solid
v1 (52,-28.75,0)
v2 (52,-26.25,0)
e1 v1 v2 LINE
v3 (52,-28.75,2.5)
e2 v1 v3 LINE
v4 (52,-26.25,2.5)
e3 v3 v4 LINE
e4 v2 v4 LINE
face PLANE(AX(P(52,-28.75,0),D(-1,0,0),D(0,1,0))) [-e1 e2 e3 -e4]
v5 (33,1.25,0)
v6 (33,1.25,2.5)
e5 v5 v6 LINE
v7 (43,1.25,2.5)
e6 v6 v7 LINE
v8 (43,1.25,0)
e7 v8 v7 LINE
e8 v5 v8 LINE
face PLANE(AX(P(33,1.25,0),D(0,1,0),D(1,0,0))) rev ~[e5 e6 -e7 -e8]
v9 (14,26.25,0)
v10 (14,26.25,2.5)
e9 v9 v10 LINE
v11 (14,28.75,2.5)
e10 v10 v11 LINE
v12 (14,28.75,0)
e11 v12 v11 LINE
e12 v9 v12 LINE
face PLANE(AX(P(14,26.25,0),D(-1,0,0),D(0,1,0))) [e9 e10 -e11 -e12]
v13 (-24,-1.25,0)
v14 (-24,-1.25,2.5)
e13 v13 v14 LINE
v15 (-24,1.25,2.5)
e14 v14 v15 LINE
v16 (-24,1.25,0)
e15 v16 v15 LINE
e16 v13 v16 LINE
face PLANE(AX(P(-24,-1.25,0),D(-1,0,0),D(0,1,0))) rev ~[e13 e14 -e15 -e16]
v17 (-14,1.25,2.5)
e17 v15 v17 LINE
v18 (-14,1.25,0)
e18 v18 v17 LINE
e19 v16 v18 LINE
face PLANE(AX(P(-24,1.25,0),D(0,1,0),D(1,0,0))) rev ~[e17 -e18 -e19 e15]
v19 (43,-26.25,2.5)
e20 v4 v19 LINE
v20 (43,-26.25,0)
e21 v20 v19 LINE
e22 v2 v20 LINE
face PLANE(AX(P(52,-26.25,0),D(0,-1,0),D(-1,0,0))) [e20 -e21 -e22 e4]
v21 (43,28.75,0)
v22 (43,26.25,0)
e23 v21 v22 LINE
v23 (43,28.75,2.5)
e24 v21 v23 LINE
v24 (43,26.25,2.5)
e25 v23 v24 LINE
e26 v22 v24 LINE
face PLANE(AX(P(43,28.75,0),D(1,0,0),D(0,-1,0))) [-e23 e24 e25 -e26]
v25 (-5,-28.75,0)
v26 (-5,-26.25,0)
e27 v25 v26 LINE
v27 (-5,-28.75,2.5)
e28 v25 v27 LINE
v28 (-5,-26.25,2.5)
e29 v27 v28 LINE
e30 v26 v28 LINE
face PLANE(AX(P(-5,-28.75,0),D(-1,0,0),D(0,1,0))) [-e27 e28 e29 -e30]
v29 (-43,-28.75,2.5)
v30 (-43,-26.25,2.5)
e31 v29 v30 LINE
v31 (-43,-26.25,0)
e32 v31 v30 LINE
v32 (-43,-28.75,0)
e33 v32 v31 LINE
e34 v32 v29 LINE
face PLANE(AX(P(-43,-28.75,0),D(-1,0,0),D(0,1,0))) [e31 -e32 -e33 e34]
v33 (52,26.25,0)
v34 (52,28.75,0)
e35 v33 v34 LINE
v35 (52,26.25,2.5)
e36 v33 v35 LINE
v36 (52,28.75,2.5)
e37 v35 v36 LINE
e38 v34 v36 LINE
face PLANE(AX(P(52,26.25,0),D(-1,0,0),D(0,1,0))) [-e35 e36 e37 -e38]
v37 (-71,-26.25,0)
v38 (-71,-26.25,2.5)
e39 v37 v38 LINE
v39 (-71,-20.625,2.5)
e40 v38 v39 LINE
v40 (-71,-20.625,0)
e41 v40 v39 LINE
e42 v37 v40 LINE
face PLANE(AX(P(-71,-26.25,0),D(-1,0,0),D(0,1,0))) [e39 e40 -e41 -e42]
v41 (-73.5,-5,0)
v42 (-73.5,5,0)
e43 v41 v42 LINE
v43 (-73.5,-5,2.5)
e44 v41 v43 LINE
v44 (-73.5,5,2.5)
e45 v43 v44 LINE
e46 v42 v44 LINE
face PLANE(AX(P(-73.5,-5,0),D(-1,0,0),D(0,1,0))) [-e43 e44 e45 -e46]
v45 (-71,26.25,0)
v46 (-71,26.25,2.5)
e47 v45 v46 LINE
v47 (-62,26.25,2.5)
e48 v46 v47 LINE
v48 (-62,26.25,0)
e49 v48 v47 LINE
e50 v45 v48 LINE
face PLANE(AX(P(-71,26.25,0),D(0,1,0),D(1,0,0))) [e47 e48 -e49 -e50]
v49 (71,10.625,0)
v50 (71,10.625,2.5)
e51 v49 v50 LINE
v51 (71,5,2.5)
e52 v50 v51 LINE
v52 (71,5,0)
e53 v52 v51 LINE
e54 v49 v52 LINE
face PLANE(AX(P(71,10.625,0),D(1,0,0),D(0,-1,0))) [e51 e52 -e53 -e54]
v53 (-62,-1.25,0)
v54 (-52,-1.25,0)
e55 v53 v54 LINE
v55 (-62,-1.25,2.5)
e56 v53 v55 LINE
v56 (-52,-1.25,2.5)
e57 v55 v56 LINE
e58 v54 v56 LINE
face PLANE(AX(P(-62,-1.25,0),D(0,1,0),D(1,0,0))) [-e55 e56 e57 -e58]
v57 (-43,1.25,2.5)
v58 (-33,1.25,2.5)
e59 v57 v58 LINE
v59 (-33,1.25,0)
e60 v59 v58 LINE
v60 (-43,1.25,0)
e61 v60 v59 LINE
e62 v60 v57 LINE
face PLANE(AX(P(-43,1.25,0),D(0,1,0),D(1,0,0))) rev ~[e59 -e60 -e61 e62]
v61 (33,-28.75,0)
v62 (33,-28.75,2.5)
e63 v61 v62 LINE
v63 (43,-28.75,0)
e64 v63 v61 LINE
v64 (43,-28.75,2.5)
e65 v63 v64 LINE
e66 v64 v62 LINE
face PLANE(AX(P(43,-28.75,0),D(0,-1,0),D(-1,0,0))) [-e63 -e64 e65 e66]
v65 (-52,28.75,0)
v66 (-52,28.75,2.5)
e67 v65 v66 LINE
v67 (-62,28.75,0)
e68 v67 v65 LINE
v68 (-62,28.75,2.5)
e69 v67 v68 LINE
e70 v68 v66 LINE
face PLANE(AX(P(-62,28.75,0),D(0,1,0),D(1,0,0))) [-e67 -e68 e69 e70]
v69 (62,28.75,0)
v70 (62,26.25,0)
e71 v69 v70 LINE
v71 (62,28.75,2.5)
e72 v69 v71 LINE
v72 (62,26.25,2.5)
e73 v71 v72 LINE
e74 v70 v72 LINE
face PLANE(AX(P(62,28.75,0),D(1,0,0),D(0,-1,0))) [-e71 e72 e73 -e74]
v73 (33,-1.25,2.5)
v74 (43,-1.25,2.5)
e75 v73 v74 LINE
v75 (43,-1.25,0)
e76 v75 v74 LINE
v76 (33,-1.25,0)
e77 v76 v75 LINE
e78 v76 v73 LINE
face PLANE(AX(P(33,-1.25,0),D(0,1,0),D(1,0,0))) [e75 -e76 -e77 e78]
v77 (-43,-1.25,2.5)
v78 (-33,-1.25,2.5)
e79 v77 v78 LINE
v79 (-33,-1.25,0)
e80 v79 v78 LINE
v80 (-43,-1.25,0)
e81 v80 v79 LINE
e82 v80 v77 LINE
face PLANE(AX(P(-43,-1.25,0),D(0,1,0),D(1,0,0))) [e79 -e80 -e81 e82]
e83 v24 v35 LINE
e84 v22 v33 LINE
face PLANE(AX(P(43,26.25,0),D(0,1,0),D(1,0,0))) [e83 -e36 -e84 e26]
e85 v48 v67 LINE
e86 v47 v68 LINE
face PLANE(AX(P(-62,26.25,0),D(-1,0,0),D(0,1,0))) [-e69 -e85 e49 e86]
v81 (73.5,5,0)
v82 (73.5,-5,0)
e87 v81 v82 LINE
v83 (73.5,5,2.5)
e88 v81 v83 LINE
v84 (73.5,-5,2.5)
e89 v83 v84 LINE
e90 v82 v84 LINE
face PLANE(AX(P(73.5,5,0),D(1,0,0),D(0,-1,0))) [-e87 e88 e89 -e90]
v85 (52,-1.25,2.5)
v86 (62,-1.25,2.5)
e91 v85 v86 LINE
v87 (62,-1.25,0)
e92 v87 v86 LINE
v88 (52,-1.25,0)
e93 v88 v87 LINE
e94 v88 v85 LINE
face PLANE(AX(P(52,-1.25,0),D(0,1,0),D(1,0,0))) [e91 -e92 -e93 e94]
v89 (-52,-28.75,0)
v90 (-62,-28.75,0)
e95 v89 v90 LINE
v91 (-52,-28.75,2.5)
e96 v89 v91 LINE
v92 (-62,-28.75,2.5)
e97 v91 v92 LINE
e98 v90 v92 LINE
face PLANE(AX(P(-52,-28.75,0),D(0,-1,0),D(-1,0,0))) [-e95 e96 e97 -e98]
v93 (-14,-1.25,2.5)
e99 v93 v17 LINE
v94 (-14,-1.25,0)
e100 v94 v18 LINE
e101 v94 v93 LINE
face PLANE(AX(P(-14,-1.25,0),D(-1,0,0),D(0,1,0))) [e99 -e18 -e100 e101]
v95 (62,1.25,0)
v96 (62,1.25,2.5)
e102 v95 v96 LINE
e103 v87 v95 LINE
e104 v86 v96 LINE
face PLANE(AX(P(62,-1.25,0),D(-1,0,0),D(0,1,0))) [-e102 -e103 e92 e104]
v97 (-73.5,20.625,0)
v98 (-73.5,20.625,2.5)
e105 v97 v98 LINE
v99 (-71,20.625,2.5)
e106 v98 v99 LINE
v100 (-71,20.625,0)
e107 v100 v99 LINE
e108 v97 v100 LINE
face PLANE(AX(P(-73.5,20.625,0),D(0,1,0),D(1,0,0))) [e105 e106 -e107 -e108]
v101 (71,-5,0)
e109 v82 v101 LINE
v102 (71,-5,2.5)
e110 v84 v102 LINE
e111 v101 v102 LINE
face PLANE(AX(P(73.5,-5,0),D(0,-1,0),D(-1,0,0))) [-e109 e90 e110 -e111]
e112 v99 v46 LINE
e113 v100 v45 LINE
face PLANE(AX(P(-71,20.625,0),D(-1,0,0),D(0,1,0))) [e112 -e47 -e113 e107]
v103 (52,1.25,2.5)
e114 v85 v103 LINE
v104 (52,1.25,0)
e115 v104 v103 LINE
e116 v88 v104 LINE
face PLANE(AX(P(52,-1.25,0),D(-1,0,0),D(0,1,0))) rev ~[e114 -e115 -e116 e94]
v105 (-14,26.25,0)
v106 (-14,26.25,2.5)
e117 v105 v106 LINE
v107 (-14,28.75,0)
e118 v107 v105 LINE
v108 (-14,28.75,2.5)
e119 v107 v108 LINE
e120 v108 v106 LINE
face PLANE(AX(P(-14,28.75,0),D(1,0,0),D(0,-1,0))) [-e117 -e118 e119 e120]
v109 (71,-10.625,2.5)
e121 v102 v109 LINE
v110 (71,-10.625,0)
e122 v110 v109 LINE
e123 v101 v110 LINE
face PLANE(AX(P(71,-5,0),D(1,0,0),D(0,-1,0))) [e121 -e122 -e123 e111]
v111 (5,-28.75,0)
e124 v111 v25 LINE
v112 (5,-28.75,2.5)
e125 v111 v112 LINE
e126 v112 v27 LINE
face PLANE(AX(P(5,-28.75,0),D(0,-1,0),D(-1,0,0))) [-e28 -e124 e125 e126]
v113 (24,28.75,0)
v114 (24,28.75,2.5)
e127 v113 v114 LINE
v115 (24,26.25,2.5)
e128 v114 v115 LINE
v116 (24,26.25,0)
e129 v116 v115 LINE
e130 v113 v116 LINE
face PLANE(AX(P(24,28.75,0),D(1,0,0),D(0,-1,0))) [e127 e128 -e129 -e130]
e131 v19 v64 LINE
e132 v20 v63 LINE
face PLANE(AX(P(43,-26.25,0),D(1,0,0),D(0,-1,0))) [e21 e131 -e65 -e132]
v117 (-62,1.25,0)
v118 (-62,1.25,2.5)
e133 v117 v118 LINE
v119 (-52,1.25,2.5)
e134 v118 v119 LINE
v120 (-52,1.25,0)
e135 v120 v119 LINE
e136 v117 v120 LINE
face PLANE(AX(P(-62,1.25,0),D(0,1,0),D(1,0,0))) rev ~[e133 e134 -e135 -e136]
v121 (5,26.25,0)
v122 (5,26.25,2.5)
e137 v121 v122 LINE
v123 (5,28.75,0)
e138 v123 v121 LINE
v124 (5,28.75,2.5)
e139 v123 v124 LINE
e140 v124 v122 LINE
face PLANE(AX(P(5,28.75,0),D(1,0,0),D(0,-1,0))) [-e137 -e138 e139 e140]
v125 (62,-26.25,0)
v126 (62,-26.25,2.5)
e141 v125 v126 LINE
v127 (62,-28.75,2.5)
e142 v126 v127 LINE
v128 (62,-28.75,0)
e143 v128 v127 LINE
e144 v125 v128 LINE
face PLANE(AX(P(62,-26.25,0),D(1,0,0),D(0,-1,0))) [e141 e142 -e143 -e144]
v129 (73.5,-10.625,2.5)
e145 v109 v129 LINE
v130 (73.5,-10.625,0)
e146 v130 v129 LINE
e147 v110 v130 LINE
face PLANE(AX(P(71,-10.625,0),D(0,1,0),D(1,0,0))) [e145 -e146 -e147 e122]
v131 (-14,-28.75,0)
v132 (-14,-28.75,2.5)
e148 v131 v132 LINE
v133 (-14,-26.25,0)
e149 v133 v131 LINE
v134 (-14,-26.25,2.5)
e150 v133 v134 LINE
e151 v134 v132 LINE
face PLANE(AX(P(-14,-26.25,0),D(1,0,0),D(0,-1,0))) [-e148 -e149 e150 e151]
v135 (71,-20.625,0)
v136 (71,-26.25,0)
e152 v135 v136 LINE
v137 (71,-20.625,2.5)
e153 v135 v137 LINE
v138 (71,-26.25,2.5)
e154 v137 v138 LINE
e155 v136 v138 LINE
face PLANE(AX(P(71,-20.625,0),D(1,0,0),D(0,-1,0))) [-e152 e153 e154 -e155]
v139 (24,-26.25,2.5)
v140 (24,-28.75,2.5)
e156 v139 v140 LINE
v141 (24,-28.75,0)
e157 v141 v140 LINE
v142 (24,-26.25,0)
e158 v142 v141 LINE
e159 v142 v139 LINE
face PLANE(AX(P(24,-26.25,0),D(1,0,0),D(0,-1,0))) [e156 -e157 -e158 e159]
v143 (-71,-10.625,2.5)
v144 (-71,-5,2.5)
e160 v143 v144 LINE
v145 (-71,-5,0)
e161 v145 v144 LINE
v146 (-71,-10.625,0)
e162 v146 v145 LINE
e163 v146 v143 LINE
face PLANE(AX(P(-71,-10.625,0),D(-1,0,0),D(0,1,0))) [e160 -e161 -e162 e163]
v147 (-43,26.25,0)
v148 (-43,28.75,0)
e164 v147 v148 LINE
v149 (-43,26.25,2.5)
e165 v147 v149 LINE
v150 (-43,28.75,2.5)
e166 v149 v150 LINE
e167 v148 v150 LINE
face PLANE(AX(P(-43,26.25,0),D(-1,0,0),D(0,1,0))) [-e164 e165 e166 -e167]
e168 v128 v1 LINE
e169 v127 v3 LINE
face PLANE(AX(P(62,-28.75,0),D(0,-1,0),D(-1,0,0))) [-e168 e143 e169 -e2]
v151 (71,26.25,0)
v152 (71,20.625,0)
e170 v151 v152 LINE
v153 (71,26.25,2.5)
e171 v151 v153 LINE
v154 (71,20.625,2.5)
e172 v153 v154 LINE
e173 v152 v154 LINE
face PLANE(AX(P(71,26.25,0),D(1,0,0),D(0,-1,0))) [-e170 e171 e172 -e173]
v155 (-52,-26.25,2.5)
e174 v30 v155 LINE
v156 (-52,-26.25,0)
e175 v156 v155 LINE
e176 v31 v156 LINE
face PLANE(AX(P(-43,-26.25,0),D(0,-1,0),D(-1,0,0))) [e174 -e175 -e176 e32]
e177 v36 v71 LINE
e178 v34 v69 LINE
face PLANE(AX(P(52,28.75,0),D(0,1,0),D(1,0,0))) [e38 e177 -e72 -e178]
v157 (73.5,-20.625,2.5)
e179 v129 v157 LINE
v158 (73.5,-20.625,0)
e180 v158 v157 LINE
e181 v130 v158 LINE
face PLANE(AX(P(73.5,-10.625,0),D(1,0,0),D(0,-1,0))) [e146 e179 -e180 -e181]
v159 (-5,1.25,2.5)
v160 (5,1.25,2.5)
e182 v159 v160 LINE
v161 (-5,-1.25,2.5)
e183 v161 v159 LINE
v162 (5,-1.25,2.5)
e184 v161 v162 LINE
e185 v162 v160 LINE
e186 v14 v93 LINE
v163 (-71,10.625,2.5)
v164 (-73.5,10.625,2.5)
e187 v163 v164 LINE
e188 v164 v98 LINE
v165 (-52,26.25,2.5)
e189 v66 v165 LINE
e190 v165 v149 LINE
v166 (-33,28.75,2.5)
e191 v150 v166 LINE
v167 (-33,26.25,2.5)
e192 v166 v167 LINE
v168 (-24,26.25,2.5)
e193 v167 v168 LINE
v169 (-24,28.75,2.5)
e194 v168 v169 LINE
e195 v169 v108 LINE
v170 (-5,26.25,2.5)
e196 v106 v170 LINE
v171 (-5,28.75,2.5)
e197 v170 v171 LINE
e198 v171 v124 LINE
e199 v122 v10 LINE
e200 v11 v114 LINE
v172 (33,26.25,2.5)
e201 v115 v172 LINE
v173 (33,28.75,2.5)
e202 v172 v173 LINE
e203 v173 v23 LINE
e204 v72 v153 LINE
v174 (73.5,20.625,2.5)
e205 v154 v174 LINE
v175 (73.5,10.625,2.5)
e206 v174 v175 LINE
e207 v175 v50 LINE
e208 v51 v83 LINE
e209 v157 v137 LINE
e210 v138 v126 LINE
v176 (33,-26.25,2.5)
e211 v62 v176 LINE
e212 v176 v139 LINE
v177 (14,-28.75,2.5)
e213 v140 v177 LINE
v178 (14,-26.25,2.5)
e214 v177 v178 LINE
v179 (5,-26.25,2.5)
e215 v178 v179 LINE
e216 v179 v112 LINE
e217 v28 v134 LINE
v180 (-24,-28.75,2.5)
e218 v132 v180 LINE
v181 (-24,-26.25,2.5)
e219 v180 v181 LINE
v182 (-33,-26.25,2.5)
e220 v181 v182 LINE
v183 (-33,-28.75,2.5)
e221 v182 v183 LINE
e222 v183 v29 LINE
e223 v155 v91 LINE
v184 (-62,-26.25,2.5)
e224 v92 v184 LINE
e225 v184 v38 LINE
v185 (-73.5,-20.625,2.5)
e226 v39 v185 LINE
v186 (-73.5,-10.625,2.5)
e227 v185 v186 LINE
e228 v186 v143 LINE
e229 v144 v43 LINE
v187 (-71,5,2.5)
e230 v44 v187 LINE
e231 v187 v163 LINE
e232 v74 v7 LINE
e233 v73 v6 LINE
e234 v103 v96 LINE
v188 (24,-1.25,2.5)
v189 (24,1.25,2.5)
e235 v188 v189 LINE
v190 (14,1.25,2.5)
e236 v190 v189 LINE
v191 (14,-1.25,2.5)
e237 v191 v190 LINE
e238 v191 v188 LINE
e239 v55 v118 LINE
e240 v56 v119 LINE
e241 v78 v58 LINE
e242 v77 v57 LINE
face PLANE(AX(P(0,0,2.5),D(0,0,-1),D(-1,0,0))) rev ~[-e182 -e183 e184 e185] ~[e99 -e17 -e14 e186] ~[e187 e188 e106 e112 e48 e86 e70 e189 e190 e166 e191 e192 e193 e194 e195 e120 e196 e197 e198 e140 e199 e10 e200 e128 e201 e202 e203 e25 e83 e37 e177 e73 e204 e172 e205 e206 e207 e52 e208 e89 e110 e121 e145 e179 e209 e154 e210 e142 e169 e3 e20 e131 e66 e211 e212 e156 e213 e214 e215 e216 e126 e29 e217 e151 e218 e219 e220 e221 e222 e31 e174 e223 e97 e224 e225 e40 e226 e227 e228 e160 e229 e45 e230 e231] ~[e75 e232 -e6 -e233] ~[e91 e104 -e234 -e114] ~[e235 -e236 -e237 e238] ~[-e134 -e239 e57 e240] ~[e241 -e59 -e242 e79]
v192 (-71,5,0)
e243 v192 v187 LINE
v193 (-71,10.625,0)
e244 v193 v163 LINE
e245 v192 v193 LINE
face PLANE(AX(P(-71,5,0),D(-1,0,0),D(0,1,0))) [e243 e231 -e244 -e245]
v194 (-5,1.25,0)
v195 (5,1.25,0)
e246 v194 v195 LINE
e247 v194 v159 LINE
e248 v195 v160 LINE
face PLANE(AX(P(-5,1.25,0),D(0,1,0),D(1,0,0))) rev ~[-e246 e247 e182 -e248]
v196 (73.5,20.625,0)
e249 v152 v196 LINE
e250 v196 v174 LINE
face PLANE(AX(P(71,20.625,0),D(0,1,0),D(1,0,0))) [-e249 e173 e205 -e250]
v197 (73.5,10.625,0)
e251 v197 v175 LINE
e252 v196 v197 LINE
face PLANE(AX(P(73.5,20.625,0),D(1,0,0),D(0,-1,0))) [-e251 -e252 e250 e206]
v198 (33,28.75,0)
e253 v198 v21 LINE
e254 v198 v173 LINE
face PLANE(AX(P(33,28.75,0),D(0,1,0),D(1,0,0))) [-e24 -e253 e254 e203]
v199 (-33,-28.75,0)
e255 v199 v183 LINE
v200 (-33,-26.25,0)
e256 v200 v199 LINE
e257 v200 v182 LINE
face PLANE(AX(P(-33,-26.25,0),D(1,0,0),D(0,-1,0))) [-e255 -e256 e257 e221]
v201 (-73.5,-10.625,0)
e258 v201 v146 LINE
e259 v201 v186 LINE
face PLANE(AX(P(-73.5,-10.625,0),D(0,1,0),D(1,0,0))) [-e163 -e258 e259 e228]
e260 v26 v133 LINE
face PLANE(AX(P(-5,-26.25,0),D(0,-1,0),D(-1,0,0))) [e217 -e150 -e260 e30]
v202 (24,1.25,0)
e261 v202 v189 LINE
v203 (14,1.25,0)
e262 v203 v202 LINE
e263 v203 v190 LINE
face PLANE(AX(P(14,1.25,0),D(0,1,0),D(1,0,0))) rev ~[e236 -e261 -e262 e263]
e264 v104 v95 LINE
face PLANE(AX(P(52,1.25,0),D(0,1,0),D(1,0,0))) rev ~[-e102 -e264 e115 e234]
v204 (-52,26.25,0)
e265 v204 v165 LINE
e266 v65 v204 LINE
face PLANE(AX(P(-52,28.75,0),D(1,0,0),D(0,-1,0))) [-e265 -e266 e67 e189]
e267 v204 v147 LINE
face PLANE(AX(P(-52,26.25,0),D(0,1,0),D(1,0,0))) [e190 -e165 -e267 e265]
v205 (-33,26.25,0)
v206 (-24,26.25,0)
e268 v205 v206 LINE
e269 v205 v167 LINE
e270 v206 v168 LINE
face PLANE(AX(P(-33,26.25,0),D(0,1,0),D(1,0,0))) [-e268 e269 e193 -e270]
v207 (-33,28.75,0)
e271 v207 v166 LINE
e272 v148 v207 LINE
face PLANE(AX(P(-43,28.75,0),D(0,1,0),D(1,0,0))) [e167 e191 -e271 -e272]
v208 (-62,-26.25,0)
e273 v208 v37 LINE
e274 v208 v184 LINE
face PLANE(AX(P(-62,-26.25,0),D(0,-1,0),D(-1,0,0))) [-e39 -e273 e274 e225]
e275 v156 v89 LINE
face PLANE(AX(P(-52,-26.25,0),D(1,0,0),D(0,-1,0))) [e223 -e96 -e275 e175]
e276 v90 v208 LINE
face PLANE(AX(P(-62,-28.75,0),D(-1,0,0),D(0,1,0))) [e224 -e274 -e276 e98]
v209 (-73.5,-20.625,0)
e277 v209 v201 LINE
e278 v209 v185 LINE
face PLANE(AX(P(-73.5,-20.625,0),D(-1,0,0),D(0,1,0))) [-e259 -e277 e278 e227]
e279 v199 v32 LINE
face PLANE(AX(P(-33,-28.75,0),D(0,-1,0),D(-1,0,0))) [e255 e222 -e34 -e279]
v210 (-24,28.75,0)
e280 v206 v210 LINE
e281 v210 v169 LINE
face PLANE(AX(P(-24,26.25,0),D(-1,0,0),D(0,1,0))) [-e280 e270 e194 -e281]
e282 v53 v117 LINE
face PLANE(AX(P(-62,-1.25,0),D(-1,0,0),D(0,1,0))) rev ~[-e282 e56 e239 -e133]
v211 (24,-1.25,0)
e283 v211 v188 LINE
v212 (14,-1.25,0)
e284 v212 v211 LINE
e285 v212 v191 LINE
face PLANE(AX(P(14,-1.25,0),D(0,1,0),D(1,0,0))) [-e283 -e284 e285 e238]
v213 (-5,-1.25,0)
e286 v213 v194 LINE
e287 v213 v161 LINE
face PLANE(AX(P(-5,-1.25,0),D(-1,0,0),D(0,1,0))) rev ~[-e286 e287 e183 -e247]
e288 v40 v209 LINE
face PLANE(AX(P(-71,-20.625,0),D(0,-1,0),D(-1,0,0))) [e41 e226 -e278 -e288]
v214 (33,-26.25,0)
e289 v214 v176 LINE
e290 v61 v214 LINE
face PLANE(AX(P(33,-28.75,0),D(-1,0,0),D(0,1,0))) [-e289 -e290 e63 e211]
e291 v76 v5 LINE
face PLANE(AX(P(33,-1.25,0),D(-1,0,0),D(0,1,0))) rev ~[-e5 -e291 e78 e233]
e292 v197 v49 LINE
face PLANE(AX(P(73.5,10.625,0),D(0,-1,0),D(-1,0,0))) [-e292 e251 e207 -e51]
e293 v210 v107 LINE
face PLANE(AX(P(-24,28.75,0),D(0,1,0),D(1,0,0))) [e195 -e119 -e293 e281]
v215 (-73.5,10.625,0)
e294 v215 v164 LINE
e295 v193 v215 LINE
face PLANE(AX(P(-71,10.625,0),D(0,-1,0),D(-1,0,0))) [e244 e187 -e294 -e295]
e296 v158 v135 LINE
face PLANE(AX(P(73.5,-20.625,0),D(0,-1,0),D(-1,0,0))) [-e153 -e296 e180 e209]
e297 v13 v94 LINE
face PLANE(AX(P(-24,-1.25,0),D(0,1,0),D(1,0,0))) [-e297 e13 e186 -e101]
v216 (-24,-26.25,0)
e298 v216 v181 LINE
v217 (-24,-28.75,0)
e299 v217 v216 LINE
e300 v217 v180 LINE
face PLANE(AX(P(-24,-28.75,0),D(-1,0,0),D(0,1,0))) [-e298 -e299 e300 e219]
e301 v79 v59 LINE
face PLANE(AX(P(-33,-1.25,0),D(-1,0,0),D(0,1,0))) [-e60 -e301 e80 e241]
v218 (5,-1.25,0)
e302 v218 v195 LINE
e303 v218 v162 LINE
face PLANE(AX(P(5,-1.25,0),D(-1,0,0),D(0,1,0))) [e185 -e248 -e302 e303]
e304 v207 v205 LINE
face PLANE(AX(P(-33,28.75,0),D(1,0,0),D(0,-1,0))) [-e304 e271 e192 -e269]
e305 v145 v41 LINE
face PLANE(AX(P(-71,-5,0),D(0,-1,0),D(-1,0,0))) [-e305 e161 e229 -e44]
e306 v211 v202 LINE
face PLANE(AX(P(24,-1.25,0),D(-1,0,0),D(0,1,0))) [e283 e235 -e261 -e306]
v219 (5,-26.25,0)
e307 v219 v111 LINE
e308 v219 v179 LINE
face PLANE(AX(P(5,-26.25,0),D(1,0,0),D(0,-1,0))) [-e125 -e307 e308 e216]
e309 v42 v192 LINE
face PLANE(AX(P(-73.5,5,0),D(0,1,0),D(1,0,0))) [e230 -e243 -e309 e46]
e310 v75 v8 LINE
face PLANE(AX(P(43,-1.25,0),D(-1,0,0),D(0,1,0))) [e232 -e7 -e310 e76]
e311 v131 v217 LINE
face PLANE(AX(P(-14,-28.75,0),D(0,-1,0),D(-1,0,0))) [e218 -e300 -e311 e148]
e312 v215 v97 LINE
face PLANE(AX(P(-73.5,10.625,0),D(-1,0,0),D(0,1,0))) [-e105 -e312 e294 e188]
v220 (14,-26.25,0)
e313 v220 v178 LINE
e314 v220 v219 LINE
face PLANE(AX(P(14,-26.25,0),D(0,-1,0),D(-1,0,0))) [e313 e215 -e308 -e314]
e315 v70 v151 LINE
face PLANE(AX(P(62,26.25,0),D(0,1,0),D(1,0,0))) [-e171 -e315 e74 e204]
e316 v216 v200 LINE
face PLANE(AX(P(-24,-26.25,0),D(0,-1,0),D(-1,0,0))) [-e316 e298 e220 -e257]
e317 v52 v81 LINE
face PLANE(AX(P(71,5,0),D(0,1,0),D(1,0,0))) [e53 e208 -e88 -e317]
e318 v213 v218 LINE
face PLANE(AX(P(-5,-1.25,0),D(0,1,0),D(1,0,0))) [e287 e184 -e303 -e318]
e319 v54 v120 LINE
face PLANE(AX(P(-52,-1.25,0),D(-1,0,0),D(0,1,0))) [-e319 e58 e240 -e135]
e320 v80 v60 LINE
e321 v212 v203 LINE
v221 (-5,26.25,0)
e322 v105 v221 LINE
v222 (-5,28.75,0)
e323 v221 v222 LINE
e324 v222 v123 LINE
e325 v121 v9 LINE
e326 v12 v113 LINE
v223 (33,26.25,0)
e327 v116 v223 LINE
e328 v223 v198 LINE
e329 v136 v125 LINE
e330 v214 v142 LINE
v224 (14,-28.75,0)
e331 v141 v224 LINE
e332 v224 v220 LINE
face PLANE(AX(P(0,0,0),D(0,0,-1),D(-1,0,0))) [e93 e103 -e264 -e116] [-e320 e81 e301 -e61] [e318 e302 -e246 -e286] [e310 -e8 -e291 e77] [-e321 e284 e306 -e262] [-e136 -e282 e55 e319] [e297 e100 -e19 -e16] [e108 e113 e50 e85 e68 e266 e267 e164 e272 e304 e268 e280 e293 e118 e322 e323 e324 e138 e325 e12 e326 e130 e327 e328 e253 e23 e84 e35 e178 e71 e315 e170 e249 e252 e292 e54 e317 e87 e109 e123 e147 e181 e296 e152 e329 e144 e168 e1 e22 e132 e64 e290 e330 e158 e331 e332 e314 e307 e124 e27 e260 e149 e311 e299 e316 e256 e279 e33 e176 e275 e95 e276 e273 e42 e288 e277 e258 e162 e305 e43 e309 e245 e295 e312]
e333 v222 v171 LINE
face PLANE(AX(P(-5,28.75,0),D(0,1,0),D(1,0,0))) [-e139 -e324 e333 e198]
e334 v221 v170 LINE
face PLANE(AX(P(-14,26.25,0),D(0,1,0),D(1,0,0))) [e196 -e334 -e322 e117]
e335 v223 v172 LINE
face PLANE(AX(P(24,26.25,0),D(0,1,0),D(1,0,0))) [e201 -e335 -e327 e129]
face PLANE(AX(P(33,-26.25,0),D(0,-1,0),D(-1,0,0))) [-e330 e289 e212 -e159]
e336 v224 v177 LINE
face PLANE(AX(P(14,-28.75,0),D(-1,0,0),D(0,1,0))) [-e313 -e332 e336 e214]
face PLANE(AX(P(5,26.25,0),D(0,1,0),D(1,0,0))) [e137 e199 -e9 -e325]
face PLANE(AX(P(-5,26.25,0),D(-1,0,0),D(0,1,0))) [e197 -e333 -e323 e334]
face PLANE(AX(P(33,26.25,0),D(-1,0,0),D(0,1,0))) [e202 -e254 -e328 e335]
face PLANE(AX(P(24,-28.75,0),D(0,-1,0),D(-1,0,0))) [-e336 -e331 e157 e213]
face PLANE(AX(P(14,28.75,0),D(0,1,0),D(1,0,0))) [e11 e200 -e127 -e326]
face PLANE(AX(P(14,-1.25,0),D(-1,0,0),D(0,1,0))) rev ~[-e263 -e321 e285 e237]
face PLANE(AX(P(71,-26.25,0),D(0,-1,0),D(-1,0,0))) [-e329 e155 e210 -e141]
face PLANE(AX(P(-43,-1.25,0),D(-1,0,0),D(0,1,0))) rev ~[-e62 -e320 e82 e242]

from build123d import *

# Parameters (mm, degrees)
SKETCH1_W           = 10
SKETCH1_H           = 2.5
BOSS_EXTRUDE1_DEPTH = 2.5


with BuildPart() as part:
    # Sketch1 → Boss-Extrude1 (new body)
    with BuildSketch(Plane.XY):
        Polygon((-62, 26.25), (-62, 28.75), (-52, 28.75), (-52, 26.25), (-43, 26.25), (-43, 28.75), (-33, 28.75), (-33, 26.25), (-24, 26.25), (-24, 28.75), (-14, 28.75), (-14, 26.25), (-5, 26.25), (-5, 28.75), (5, 28.75), (5, 26.25), (14, 26.25), (14, 28.75), (24, 28.75), (24, 26.25), (33, 26.25), (33, 28.75), (43, 28.75), (43, 26.25), (52, 26.25), (52, 28.75), (62, 28.75), (62, 26.25), (71, 26.25), (71, 20.625), (73.5, 20.625), (73.5, 10.625), (71, 10.625), (71, 5), (73.5, 5), (73.5, -5), (71, -5), (71, -10.625), (73.5, -10.625), (73.5, -20.625), (71, -20.625), (71, -26.25), (62, -26.25), (62, -28.75), (52, -28.75), (52, -26.25), (43, -26.25), (43, -28.75), (33, -28.75), (33, -26.25), (24, -26.25), (24, -28.75), (14, -28.75), (14, -26.25), (5, -26.25), (5, -28.75), (-5, -28.75), (-5, -26.25), (-14, -26.25), (-14, -28.75), (-24, -28.75), (-24, -26.25), (-33, -26.25), (-33, -28.75), (-43, -28.75), (-43, -26.25), (-52, -26.25), (-52, -28.75), (-62, -28.75), (-62, -26.25), (-71, -26.25), (-71, -20.625), (-73.5, -20.625), (-73.5, -10.625), (-71, -10.625), (-71, -5), (-73.5, -5), (-73.5, 5), (-71, 5), (-71, 10.625), (-73.5, 10.625), (-73.5, 20.625), (-71, 20.625), (-71, 26.25), align=None)
        with Locations((-38, 0)):
            Rectangle(SKETCH1_W, SKETCH1_H, mode=Mode.SUBTRACT)
        with Locations((-57, 0)):
            Rectangle(SKETCH1_W, SKETCH1_H, mode=Mode.SUBTRACT)
        with Locations((-19, 0)):
            Rectangle(SKETCH1_W, SKETCH1_H, mode=Mode.SUBTRACT)
        Rectangle(SKETCH1_W, SKETCH1_H, mode=Mode.SUBTRACT)
        with Locations((19, 0)):
            Rectangle(SKETCH1_W, SKETCH1_H, mode=Mode.SUBTRACT)
        with Locations((38, 0)):
            Rectangle(SKETCH1_W, SKETCH1_H, mode=Mode.SUBTRACT)
        with Locations((57, 0)):
            Rectangle(SKETCH1_W, SKETCH1_H, mode=Mode.SUBTRACT)
    extrude(amount=BOSS_EXTRUDE1_DEPTH)


solid = part.part
